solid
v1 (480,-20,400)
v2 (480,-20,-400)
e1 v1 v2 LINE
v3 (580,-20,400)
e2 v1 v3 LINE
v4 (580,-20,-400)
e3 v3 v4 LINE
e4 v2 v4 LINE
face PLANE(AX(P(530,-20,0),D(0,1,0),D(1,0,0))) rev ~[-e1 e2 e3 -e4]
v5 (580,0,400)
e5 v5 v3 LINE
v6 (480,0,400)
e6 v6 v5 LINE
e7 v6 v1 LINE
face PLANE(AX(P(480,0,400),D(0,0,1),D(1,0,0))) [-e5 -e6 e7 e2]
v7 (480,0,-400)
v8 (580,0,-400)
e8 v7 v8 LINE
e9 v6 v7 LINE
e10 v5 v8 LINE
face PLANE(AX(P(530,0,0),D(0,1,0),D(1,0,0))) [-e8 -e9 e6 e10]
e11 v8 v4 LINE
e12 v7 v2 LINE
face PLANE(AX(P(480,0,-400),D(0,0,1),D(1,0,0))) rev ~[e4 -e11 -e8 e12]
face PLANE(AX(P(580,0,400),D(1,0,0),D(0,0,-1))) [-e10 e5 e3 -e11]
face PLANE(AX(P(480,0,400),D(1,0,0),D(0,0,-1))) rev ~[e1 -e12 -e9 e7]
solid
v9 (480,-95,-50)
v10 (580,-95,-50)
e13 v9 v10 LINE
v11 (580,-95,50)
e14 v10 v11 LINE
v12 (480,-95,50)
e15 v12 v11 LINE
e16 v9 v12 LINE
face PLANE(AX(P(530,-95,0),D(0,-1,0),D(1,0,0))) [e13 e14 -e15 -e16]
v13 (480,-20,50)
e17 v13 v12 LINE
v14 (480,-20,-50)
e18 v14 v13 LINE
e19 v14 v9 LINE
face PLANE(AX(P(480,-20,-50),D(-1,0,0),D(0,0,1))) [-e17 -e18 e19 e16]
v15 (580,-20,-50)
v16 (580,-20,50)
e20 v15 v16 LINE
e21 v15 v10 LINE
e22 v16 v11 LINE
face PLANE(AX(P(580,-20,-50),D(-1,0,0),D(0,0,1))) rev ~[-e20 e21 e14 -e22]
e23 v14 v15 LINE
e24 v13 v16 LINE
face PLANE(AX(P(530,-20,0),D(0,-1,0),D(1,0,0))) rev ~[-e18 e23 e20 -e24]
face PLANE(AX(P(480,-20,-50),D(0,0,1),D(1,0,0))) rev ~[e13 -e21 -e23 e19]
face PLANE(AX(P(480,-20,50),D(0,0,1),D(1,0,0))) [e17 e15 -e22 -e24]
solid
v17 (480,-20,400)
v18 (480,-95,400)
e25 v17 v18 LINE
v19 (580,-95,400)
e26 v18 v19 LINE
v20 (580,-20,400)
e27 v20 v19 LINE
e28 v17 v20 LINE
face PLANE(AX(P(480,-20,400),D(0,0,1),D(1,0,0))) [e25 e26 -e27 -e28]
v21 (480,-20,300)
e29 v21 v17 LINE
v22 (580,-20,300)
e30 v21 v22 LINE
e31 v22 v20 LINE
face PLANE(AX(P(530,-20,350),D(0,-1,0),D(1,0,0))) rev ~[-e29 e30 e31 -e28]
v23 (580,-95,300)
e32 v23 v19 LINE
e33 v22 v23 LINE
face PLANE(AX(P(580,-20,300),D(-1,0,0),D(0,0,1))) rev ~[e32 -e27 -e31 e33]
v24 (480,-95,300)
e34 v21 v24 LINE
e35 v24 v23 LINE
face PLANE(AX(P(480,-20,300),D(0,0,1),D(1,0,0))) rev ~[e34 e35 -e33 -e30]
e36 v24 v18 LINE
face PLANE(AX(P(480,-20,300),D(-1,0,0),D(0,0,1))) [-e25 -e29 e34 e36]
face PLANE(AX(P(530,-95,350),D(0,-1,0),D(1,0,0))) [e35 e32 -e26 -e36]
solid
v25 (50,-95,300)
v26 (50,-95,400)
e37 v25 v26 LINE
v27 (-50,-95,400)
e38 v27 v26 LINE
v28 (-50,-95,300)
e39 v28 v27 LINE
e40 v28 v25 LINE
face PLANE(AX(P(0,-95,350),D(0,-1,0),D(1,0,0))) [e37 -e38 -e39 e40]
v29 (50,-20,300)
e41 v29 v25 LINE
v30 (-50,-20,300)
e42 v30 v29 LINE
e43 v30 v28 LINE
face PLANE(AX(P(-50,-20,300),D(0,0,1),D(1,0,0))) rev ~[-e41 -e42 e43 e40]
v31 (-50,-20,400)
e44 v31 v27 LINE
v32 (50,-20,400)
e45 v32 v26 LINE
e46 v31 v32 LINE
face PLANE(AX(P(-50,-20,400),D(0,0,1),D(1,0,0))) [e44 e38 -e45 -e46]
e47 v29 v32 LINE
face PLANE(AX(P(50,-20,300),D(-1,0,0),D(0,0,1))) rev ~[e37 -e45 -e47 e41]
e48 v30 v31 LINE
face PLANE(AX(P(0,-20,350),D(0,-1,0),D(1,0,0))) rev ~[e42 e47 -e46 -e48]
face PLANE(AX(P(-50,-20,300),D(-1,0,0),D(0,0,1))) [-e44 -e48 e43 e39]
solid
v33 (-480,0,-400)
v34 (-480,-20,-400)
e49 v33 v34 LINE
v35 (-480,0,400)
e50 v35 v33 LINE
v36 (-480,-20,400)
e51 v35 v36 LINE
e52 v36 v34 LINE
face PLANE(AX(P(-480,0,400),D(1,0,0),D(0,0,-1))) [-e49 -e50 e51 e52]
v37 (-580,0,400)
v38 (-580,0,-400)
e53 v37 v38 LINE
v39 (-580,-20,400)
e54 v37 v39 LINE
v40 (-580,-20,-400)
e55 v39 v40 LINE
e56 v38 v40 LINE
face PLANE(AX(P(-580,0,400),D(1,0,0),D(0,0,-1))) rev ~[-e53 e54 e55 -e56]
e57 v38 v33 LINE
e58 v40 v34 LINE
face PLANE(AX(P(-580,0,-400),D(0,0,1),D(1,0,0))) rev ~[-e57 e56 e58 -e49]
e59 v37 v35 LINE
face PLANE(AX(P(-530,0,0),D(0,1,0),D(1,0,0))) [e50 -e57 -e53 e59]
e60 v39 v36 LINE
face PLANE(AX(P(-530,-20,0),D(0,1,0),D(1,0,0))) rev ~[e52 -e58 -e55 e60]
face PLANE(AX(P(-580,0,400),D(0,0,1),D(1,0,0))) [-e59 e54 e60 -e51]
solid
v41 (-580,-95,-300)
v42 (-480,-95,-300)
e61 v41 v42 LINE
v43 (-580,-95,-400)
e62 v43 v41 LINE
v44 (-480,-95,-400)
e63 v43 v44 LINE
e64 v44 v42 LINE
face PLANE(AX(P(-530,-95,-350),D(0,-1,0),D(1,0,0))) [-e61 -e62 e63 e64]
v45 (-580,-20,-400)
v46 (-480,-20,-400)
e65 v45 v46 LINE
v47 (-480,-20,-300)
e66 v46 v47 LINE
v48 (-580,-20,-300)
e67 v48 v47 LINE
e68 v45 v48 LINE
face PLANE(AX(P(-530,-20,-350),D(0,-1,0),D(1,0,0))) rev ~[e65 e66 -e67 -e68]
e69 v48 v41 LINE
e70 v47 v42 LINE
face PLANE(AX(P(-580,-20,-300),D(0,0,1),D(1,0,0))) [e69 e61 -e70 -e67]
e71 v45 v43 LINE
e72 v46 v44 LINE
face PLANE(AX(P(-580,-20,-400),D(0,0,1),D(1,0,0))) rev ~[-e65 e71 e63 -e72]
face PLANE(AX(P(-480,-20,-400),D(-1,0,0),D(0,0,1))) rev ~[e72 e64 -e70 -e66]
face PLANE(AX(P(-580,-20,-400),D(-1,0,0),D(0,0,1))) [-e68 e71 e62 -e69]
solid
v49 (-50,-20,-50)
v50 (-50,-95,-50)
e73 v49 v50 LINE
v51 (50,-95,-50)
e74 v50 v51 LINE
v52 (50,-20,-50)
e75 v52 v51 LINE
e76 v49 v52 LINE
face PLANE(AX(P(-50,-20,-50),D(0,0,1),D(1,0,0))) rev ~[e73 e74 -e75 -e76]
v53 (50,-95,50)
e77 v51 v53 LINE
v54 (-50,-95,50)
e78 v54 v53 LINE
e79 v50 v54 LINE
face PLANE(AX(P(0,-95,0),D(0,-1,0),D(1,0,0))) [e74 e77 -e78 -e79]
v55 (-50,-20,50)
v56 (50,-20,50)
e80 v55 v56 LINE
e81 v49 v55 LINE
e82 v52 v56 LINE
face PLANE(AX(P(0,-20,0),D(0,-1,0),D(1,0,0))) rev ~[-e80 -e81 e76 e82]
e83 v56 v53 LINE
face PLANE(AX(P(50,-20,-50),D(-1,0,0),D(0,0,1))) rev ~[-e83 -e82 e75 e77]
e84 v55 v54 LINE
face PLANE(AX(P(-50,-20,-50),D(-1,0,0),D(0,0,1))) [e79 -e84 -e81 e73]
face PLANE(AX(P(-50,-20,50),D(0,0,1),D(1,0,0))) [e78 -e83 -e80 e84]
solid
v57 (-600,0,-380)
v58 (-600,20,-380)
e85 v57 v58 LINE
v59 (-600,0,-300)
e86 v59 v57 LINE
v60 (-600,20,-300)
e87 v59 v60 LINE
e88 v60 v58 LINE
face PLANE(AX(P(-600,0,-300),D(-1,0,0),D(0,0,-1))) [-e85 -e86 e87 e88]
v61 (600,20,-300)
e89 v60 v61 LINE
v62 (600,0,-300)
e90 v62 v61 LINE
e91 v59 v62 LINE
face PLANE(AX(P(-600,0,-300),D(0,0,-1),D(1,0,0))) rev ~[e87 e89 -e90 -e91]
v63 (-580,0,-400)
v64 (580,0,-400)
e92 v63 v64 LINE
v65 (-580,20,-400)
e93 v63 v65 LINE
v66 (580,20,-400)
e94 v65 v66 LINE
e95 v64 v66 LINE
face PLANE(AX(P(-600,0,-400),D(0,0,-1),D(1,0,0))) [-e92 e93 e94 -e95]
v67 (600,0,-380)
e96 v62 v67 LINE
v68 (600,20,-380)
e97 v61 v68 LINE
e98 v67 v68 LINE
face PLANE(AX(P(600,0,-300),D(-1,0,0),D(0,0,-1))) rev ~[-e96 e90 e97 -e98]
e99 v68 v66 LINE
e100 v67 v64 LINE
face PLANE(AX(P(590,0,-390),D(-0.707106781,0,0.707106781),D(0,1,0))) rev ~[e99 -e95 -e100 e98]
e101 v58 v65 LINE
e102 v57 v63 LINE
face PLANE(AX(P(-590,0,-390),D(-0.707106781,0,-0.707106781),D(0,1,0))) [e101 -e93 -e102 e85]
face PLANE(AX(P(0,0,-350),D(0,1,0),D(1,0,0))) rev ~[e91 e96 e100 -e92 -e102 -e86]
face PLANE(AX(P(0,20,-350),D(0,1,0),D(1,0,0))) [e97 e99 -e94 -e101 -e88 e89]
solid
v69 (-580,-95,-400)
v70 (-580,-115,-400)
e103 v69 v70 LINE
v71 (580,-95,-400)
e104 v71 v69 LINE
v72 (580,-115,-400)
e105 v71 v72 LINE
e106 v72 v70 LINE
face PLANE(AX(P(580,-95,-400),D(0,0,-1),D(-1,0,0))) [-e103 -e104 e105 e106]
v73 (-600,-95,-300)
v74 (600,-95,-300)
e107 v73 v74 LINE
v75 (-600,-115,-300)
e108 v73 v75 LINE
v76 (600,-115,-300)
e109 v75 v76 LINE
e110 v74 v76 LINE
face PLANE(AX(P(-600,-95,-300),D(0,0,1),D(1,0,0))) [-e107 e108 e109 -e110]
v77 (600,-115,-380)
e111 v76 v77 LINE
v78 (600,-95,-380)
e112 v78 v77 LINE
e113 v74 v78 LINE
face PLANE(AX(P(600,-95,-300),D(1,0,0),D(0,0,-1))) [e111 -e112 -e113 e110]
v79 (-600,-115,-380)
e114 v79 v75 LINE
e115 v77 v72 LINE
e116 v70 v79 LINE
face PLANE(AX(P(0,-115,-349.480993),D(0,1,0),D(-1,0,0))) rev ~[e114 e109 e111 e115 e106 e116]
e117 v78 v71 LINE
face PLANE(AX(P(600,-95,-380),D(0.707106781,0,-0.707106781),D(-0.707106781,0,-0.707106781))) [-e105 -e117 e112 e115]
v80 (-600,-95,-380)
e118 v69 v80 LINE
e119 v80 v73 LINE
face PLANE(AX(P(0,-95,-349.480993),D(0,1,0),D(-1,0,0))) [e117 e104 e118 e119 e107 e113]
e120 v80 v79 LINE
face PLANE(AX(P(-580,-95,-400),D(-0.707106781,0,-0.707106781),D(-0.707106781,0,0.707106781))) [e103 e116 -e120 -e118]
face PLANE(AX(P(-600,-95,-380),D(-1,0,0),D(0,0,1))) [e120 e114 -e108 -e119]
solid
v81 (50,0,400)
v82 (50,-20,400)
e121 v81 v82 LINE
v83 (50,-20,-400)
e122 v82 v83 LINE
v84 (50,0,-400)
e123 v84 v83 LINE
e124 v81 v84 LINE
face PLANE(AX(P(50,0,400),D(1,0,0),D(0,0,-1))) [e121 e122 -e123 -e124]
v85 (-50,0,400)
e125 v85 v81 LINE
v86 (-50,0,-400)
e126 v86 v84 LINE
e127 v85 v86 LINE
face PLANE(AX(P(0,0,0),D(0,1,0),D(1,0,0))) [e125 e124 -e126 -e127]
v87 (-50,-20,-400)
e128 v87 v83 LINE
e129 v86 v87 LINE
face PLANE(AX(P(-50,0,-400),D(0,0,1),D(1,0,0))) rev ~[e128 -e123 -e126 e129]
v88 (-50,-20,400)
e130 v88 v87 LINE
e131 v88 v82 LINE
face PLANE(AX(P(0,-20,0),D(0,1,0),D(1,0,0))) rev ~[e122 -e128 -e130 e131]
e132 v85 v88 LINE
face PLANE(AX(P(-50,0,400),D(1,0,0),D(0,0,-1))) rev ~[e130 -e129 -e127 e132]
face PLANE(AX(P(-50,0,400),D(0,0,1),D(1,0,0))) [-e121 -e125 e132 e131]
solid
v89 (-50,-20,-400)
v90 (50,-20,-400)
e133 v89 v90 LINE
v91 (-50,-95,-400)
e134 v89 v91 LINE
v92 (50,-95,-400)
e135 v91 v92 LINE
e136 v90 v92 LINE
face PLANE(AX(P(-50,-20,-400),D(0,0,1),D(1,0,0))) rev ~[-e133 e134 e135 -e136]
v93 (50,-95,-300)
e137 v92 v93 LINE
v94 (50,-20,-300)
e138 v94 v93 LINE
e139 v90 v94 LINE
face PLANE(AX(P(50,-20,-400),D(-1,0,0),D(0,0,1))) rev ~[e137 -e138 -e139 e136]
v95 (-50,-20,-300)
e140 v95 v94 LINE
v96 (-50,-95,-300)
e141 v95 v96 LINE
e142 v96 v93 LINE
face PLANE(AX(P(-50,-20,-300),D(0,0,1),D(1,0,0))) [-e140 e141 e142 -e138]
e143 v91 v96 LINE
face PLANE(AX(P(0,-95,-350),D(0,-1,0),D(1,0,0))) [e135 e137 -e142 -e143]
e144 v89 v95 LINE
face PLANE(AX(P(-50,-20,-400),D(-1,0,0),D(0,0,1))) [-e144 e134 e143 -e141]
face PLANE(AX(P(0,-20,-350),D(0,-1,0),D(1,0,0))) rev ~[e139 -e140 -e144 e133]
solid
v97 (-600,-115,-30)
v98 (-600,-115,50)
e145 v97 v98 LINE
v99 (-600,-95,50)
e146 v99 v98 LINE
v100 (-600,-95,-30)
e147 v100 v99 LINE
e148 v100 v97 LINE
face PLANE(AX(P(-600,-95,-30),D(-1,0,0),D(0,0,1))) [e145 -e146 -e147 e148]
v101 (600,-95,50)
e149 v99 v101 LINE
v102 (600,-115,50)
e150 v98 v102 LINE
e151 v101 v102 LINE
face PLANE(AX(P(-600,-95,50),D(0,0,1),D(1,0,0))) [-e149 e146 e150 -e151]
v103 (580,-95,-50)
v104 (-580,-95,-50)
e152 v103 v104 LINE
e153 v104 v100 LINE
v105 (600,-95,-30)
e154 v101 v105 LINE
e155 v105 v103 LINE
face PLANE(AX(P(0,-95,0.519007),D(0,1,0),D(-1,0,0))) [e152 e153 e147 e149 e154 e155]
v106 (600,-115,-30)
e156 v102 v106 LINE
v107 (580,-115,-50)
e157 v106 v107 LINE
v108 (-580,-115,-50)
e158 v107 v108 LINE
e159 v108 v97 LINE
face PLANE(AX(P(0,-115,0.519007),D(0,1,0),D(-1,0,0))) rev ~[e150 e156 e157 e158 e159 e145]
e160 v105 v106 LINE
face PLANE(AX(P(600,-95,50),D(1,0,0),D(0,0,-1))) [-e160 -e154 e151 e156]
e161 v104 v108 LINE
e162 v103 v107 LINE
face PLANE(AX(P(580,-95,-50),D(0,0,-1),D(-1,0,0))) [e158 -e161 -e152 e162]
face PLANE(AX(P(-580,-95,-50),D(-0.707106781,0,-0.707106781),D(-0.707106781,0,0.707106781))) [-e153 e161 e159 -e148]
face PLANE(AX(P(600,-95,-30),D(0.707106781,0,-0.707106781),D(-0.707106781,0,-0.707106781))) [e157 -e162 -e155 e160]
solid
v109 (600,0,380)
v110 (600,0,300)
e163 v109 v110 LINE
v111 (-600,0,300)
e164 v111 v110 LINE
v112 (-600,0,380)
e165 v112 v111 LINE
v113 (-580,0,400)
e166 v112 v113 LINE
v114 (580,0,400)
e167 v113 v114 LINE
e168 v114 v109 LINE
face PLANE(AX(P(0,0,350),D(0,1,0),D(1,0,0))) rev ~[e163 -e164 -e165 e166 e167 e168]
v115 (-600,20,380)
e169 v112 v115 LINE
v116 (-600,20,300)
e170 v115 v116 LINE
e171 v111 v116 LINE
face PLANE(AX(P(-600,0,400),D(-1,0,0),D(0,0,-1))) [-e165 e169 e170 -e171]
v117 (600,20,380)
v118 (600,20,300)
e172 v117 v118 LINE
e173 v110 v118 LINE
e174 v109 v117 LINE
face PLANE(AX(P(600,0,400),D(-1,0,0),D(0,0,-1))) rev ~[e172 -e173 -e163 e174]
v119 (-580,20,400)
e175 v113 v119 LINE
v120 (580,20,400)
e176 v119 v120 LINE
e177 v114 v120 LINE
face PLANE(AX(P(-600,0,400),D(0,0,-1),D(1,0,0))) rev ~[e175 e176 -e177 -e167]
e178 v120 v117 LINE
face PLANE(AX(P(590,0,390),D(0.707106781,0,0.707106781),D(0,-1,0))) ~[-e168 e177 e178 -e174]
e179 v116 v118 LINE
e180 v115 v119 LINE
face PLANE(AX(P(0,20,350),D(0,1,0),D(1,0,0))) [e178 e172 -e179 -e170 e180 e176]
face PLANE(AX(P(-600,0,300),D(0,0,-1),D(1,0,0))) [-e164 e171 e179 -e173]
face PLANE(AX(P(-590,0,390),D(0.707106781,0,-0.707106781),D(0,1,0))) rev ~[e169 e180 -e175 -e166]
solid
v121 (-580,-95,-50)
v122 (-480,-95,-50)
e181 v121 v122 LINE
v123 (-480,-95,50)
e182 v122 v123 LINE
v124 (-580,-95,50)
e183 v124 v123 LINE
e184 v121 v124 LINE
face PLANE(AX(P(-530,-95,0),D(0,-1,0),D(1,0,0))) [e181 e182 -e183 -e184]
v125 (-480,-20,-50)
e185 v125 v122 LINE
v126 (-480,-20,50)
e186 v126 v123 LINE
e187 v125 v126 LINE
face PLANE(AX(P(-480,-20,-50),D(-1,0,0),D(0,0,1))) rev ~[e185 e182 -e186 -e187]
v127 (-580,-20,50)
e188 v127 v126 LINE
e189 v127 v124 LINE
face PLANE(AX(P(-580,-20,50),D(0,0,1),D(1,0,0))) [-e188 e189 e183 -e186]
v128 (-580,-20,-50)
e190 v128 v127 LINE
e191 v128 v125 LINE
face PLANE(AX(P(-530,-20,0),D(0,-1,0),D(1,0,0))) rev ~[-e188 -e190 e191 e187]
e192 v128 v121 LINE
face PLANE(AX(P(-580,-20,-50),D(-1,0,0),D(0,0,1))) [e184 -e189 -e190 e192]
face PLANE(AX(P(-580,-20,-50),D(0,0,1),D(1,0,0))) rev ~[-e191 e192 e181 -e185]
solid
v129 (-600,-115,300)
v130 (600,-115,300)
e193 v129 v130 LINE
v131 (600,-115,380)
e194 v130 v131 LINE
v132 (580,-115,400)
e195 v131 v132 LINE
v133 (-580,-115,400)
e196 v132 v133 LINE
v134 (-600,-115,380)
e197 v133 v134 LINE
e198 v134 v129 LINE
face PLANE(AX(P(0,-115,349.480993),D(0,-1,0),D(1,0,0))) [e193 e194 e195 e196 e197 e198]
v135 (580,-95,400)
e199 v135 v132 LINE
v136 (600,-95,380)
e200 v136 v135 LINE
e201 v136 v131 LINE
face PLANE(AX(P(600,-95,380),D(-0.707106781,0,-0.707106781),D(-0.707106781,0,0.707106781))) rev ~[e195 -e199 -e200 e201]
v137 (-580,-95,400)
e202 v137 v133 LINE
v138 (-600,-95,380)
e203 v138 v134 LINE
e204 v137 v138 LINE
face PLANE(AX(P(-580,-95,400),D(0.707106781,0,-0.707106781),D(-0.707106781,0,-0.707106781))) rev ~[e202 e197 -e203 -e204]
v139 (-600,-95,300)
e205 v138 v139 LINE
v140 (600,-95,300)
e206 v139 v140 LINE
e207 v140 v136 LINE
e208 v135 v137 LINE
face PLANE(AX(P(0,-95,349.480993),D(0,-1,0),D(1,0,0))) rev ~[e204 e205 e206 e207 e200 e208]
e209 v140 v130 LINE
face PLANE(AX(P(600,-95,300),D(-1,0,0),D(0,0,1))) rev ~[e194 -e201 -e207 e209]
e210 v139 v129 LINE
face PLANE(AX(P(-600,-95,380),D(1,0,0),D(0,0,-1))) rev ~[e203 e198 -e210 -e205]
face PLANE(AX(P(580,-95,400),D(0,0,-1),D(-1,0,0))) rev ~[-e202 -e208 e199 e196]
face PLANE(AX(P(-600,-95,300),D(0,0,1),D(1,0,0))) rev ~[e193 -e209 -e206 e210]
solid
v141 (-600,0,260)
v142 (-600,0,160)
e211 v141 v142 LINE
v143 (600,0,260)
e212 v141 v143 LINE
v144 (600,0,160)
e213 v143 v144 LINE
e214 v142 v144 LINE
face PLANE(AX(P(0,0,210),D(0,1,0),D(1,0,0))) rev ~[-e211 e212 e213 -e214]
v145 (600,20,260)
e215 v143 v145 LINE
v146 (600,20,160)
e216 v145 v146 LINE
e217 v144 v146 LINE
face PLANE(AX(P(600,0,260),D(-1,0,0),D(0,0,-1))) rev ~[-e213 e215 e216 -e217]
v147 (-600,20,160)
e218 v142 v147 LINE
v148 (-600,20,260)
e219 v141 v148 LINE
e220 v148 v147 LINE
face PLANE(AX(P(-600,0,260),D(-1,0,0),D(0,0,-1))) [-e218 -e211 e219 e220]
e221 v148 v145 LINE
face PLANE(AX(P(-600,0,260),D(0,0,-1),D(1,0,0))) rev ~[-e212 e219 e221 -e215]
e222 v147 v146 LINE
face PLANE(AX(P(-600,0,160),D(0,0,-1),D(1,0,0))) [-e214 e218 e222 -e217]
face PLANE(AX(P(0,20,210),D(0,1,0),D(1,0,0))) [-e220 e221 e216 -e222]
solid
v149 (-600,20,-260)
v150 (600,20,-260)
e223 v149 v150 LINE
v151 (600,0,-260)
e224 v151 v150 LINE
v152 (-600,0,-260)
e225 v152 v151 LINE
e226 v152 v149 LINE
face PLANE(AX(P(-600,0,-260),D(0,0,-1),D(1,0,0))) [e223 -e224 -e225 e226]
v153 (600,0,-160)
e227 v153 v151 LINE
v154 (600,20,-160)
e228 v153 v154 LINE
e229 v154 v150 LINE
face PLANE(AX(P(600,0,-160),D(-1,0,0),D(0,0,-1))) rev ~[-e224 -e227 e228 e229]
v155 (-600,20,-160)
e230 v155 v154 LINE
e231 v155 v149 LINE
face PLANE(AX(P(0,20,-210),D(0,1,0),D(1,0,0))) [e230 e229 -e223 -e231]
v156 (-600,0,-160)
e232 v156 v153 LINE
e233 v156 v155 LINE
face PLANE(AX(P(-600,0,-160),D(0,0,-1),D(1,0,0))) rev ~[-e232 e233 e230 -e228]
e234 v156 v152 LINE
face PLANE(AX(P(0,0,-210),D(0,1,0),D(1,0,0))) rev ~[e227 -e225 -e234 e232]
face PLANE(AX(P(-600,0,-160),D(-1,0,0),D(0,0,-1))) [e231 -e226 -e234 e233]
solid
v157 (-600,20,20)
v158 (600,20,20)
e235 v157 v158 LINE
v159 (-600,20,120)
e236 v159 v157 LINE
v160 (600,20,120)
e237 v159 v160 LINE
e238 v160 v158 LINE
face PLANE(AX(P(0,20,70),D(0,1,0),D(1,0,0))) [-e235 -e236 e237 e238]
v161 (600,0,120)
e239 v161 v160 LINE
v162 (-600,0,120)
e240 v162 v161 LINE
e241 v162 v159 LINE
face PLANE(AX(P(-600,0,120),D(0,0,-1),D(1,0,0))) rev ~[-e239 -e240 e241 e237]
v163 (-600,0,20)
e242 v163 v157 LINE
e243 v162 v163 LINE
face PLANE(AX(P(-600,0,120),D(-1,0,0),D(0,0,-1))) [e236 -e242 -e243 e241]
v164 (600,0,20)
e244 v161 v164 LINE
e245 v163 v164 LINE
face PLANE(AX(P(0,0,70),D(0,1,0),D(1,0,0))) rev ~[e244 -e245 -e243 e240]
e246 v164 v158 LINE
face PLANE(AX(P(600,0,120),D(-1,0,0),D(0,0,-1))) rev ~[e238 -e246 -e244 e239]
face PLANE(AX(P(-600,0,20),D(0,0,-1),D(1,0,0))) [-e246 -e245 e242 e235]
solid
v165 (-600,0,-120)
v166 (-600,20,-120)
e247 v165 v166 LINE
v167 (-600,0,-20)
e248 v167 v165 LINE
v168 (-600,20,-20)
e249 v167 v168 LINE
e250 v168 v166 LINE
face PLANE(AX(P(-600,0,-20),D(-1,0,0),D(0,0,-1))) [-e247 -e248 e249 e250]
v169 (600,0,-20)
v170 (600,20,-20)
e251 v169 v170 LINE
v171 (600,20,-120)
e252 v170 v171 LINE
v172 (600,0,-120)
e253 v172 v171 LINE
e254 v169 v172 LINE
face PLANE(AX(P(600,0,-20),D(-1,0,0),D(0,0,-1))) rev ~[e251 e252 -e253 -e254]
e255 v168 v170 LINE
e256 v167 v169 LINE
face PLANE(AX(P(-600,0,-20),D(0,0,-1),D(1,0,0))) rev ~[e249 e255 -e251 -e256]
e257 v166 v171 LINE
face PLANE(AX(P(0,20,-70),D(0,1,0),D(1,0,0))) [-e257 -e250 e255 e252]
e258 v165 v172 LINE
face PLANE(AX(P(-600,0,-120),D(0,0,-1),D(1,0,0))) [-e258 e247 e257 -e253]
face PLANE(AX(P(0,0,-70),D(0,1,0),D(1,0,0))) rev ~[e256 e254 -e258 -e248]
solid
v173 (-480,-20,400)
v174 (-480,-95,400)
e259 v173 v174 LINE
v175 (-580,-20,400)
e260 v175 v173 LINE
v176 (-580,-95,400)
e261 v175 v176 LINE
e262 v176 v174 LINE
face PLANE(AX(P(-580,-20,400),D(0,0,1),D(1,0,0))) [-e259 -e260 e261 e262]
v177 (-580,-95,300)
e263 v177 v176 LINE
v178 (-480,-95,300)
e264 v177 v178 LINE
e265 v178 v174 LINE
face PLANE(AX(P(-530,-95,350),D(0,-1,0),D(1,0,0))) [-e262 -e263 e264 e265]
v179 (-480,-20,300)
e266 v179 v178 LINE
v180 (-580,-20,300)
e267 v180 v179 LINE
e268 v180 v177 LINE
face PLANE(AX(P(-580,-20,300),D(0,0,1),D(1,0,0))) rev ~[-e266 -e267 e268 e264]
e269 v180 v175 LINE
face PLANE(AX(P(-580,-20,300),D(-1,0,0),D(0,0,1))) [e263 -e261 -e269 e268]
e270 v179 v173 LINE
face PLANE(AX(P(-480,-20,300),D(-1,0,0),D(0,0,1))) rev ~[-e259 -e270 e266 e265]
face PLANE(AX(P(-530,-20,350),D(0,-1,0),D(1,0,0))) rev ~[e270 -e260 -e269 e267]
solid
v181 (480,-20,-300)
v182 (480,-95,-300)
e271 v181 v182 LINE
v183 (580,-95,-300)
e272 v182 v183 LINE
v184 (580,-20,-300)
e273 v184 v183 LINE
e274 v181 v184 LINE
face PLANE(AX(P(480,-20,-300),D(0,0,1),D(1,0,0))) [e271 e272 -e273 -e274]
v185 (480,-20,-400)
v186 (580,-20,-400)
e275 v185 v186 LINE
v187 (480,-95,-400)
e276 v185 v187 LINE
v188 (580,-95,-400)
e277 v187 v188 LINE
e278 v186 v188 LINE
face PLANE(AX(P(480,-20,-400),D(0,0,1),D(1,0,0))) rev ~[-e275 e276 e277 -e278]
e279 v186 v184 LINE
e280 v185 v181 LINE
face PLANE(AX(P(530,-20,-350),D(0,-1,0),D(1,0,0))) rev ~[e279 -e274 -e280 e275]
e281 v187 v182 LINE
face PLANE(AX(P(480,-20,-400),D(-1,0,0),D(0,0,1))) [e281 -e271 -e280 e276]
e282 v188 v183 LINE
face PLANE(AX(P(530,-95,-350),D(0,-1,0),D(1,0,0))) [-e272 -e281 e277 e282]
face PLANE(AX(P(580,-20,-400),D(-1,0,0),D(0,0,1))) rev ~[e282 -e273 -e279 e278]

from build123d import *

# Parameters (mm, degrees)
ESQUISSE1_W          = 1200
ESQUISSE1_H          = 100
BOSS_EXTRU_1_DEPTH   = 20
BOSS_EXTRU_1_2_DEPTH = 20
BOSS_EXTRU_1_3_DEPTH = 20
BOSS_EXTRU_1_4_DEPTH = 20
BOSS_EXTRU_1_5_DEPTH = 20
BOSS_EXTRU_1_6_DEPTH = 20
CHANFREIN1_SIZE      = 20
CHANFREIN2_SIZE      = 20
ESQUISSE2_W          = 100
ESQUISSE2_H          = 800
BOSS_EXTRU_2_DEPTH   = 20
BOSS_EXTRU_2_2_DEPTH = 20
BOSS_EXTRU_2_3_DEPTH = 20
ESQUISSE3_W          = 100
ESQUISSE3_H          = 100
BOSS_EXTRU_3_DEPTH   = 75
BOSS_EXTRU_3_2_DEPTH = 75
BOSS_EXTRU_3_3_DEPTH = 75
BOSS_EXTRU_3_4_DEPTH = 75
BOSS_EXTRU_3_5_DEPTH = 75
BOSS_EXTRU_3_6_DEPTH = 75
BOSS_EXTRU_3_7_DEPTH = 75
BOSS_EXTRU_3_8_DEPTH = 75
BOSS_EXTRU_3_9_DEPTH = 75
BOSS_EXTRU_4_DEPTH   = 20
BOSS_EXTRU_4_2_DEPTH = 20
BOSS_EXTRU_4_3_DEPTH = 20


with BuildPart() as part:
    # Esquisse1 → Boss.-Extru.1 (new body)
    with BuildSketch(Plane(origin=(0, 0, 0), x_dir=(1, 0, 0), z_dir=(0, 1, 0))):
        with Locations((0, 350)):
            Rectangle(ESQUISSE1_W, ESQUISSE1_H)
    extrude(amount=BOSS_EXTRU_1_DEPTH)

    # Chanfrein2
    chanfrein2_edges = [part.edges().sort_by_distance(p)[0] for p in [
        (-600, 10, -400),
        (600, 10, -400),
    ]]
    chamfer(chanfrein2_edges, length=CHANFREIN2_SIZE)


with BuildPart() as body_2:
    # Esquisse1 → Boss.-Extru.1 2 (new body)
    with BuildSketch(Plane(origin=(0, 0, 0), x_dir=(1, 0, 0), z_dir=(0, 1, 0))):
        with Locations((0, 210)):
            Rectangle(ESQUISSE1_W, ESQUISSE1_H)
    extrude(amount=BOSS_EXTRU_1_2_DEPTH)


with BuildPart() as body_3:
    # Esquisse1 → Boss.-Extru.1 3 (new body)
    with BuildSketch(Plane(origin=(0, 0, 0), x_dir=(1, 0, 0), z_dir=(0, 1, 0))):
        with Locations((0, 70)):
            Rectangle(ESQUISSE1_W, ESQUISSE1_H)
    extrude(amount=BOSS_EXTRU_1_3_DEPTH)


with BuildPart() as body_4:
    # Esquisse1 → Boss.-Extru.1 4 (new body)
    with BuildSketch(Plane(origin=(0, 0, 0), x_dir=(1, 0, 0), z_dir=(0, 1, 0))):
        with Locations((0, -70)):
            Rectangle(ESQUISSE1_W, ESQUISSE1_H)
    extrude(amount=BOSS_EXTRU_1_4_DEPTH)


with BuildPart() as body_5:
    # Esquisse1 → Boss.-Extru.1 5 (new body)
    with BuildSketch(Plane(origin=(0, 0, 0), x_dir=(1, 0, 0), z_dir=(0, 1, 0))):
        with Locations((0, -210)):
            Rectangle(ESQUISSE1_W, ESQUISSE1_H)
    extrude(amount=BOSS_EXTRU_1_5_DEPTH)


with BuildPart() as body_6:
    # Esquisse1 → Boss.-Extru.1 6 (new body)
    with BuildSketch(Plane(origin=(0, 0, 0), x_dir=(1, 0, 0), z_dir=(0, 1, 0))):
        with Locations((0, -350)):
            Rectangle(ESQUISSE1_W, ESQUISSE1_H)
    extrude(amount=BOSS_EXTRU_1_6_DEPTH)

    # Chanfrein1
    chanfrein1_edges = [body_6.edges().sort_by_distance(p)[0] for p in [
        (-600, 10, 400),
        (600, 10, 400),
    ]]
    chamfer(chanfrein1_edges, length=CHANFREIN1_SIZE)


with BuildPart() as body_7:
    # Esquisse2 → Boss.-Extru.2 (new body)
    with BuildSketch(Plane(origin=(0, 0, 0), x_dir=(1, 0, 0), z_dir=(0, 1, 0))):
        with Locations((-530, 0)):
            Rectangle(ESQUISSE2_W, ESQUISSE2_H)
    extrude(amount=-BOSS_EXTRU_2_DEPTH)


with BuildPart() as body_8:
    # Esquisse2 → Boss.-Extru.2 2 (new body)
    with BuildSketch(Plane(origin=(0, 0, 0), x_dir=(1, 0, 0), z_dir=(0, 1, 0))):
        Rectangle(ESQUISSE2_W, ESQUISSE2_H)
    extrude(amount=-BOSS_EXTRU_2_2_DEPTH)


with BuildPart() as body_9:
    # Esquisse2 → Boss.-Extru.2 3 (new body)
    with BuildSketch(Plane(origin=(0, 0, 0), x_dir=(1, 0, 0), z_dir=(0, 1, 0))):
        with Locations((530, 0)):
            Rectangle(ESQUISSE2_W, ESQUISSE2_H)
    extrude(amount=-BOSS_EXTRU_2_3_DEPTH)


with BuildPart() as body_10:
    # Esquisse3 → Boss.-Extru.3 (new body)
    with BuildSketch(Plane.XZ.offset(20)):
        with Locations((-530, 350)):
            Rectangle(ESQUISSE3_W, ESQUISSE3_H)
    extrude(amount=BOSS_EXTRU_3_DEPTH)


with BuildPart() as body_11:
    # Esquisse3 → Boss.-Extru.3 2 (new body)
    with BuildSketch(Plane.XZ.offset(20)):
        with Locations((0, 350)):
            Rectangle(ESQUISSE3_W, ESQUISSE3_H)
    extrude(amount=BOSS_EXTRU_3_2_DEPTH)


with BuildPart() as body_12:
    # Esquisse3 → Boss.-Extru.3 3 (new body)
    with BuildSketch(Plane.XZ.offset(20)):
        with Locations((530, 350)):
            Rectangle(ESQUISSE3_W, ESQUISSE3_H)
    extrude(amount=BOSS_EXTRU_3_3_DEPTH)


with BuildPart() as body_13:
    # Esquisse3 → Boss.-Extru.3 4 (new body)
    with BuildSketch(Plane.XZ.offset(20)):
        with Locations((530, -350)):
            Rectangle(ESQUISSE3_W, ESQUISSE3_H)
    extrude(amount=BOSS_EXTRU_3_4_DEPTH)


with BuildPart() as body_14:
    # Esquisse3 → Boss.-Extru.3 5 (new body)
    with BuildSketch(Plane.XZ.offset(20)):
        with Locations((0, -350)):
            Rectangle(ESQUISSE3_W, ESQUISSE3_H)
    extrude(amount=BOSS_EXTRU_3_5_DEPTH)


with BuildPart() as body_15:
    # Esquisse3 → Boss.-Extru.3 6 (new body)
    with BuildSketch(Plane.XZ.offset(20)):
        with Locations((-530, -350)):
            Rectangle(ESQUISSE3_W, ESQUISSE3_H)
    extrude(amount=BOSS_EXTRU_3_6_DEPTH)


with BuildPart() as body_16:
    # Esquisse3 → Boss.-Extru.3 7 (new body)
    with BuildSketch(Plane.XZ.offset(20)):
        with Locations((-530, 0)):
            Rectangle(ESQUISSE3_W, ESQUISSE3_H)
    extrude(amount=BOSS_EXTRU_3_7_DEPTH)


with BuildPart() as body_17:
    # Esquisse3 → Boss.-Extru.3 8 (new body)
    with BuildSketch(Plane.XZ.offset(20)):
        with Locations((530, 0)):
            Rectangle(ESQUISSE3_W, ESQUISSE3_H)
    extrude(amount=BOSS_EXTRU_3_8_DEPTH)


with BuildPart() as body_18:
    # Esquisse3 → Boss.-Extru.3 9 (new body)
    with BuildSketch(Plane.XZ.offset(20)):
        Rectangle(ESQUISSE3_W, ESQUISSE3_H)
    extrude(amount=BOSS_EXTRU_3_9_DEPTH)


with BuildPart() as body_19:
    # Esquisse4 → Boss.-Extru.4 (new body)
    with BuildSketch(Plane.XZ.offset(95)):
        Polygon((580, 400), (-580, 400), (-600, 380), (-600, 300), (600, 300), (600, 380), align=None)
    extrude(amount=BOSS_EXTRU_4_DEPTH)


with BuildPart() as body_20:
    # Esquisse4 → Boss.-Extru.4 2 (new body)
    with BuildSketch(Plane.XZ.offset(95)):
        Polygon((600, -380), (580, -400), (-580, -400), (-600, -380), (-600, -300), (600, -300), align=None)
    extrude(amount=BOSS_EXTRU_4_2_DEPTH)


with BuildPart() as body_21:
    # Esquisse4 → Boss.-Extru.4 3 (new body)
    with BuildSketch(Plane.XZ.offset(95)):
        Polygon((580, -50), (-580, -50), (-600, -30), (-600, 50), (600, 50), (600, -30), align=None)
    extrude(amount=BOSS_EXTRU_4_3_DEPTH)


solid = Compound([part.part, body_2.part, body_3.part, body_4.part, body_5.part, body_6.part, body_7.part, body_8.part, body_9.part, body_10.part, body_11.part, body_12.part, body_13.part, body_14.part, body_15.part, body_16.part, body_17.part, body_18.part, body_19.part, body_20.part, body_21.part])
